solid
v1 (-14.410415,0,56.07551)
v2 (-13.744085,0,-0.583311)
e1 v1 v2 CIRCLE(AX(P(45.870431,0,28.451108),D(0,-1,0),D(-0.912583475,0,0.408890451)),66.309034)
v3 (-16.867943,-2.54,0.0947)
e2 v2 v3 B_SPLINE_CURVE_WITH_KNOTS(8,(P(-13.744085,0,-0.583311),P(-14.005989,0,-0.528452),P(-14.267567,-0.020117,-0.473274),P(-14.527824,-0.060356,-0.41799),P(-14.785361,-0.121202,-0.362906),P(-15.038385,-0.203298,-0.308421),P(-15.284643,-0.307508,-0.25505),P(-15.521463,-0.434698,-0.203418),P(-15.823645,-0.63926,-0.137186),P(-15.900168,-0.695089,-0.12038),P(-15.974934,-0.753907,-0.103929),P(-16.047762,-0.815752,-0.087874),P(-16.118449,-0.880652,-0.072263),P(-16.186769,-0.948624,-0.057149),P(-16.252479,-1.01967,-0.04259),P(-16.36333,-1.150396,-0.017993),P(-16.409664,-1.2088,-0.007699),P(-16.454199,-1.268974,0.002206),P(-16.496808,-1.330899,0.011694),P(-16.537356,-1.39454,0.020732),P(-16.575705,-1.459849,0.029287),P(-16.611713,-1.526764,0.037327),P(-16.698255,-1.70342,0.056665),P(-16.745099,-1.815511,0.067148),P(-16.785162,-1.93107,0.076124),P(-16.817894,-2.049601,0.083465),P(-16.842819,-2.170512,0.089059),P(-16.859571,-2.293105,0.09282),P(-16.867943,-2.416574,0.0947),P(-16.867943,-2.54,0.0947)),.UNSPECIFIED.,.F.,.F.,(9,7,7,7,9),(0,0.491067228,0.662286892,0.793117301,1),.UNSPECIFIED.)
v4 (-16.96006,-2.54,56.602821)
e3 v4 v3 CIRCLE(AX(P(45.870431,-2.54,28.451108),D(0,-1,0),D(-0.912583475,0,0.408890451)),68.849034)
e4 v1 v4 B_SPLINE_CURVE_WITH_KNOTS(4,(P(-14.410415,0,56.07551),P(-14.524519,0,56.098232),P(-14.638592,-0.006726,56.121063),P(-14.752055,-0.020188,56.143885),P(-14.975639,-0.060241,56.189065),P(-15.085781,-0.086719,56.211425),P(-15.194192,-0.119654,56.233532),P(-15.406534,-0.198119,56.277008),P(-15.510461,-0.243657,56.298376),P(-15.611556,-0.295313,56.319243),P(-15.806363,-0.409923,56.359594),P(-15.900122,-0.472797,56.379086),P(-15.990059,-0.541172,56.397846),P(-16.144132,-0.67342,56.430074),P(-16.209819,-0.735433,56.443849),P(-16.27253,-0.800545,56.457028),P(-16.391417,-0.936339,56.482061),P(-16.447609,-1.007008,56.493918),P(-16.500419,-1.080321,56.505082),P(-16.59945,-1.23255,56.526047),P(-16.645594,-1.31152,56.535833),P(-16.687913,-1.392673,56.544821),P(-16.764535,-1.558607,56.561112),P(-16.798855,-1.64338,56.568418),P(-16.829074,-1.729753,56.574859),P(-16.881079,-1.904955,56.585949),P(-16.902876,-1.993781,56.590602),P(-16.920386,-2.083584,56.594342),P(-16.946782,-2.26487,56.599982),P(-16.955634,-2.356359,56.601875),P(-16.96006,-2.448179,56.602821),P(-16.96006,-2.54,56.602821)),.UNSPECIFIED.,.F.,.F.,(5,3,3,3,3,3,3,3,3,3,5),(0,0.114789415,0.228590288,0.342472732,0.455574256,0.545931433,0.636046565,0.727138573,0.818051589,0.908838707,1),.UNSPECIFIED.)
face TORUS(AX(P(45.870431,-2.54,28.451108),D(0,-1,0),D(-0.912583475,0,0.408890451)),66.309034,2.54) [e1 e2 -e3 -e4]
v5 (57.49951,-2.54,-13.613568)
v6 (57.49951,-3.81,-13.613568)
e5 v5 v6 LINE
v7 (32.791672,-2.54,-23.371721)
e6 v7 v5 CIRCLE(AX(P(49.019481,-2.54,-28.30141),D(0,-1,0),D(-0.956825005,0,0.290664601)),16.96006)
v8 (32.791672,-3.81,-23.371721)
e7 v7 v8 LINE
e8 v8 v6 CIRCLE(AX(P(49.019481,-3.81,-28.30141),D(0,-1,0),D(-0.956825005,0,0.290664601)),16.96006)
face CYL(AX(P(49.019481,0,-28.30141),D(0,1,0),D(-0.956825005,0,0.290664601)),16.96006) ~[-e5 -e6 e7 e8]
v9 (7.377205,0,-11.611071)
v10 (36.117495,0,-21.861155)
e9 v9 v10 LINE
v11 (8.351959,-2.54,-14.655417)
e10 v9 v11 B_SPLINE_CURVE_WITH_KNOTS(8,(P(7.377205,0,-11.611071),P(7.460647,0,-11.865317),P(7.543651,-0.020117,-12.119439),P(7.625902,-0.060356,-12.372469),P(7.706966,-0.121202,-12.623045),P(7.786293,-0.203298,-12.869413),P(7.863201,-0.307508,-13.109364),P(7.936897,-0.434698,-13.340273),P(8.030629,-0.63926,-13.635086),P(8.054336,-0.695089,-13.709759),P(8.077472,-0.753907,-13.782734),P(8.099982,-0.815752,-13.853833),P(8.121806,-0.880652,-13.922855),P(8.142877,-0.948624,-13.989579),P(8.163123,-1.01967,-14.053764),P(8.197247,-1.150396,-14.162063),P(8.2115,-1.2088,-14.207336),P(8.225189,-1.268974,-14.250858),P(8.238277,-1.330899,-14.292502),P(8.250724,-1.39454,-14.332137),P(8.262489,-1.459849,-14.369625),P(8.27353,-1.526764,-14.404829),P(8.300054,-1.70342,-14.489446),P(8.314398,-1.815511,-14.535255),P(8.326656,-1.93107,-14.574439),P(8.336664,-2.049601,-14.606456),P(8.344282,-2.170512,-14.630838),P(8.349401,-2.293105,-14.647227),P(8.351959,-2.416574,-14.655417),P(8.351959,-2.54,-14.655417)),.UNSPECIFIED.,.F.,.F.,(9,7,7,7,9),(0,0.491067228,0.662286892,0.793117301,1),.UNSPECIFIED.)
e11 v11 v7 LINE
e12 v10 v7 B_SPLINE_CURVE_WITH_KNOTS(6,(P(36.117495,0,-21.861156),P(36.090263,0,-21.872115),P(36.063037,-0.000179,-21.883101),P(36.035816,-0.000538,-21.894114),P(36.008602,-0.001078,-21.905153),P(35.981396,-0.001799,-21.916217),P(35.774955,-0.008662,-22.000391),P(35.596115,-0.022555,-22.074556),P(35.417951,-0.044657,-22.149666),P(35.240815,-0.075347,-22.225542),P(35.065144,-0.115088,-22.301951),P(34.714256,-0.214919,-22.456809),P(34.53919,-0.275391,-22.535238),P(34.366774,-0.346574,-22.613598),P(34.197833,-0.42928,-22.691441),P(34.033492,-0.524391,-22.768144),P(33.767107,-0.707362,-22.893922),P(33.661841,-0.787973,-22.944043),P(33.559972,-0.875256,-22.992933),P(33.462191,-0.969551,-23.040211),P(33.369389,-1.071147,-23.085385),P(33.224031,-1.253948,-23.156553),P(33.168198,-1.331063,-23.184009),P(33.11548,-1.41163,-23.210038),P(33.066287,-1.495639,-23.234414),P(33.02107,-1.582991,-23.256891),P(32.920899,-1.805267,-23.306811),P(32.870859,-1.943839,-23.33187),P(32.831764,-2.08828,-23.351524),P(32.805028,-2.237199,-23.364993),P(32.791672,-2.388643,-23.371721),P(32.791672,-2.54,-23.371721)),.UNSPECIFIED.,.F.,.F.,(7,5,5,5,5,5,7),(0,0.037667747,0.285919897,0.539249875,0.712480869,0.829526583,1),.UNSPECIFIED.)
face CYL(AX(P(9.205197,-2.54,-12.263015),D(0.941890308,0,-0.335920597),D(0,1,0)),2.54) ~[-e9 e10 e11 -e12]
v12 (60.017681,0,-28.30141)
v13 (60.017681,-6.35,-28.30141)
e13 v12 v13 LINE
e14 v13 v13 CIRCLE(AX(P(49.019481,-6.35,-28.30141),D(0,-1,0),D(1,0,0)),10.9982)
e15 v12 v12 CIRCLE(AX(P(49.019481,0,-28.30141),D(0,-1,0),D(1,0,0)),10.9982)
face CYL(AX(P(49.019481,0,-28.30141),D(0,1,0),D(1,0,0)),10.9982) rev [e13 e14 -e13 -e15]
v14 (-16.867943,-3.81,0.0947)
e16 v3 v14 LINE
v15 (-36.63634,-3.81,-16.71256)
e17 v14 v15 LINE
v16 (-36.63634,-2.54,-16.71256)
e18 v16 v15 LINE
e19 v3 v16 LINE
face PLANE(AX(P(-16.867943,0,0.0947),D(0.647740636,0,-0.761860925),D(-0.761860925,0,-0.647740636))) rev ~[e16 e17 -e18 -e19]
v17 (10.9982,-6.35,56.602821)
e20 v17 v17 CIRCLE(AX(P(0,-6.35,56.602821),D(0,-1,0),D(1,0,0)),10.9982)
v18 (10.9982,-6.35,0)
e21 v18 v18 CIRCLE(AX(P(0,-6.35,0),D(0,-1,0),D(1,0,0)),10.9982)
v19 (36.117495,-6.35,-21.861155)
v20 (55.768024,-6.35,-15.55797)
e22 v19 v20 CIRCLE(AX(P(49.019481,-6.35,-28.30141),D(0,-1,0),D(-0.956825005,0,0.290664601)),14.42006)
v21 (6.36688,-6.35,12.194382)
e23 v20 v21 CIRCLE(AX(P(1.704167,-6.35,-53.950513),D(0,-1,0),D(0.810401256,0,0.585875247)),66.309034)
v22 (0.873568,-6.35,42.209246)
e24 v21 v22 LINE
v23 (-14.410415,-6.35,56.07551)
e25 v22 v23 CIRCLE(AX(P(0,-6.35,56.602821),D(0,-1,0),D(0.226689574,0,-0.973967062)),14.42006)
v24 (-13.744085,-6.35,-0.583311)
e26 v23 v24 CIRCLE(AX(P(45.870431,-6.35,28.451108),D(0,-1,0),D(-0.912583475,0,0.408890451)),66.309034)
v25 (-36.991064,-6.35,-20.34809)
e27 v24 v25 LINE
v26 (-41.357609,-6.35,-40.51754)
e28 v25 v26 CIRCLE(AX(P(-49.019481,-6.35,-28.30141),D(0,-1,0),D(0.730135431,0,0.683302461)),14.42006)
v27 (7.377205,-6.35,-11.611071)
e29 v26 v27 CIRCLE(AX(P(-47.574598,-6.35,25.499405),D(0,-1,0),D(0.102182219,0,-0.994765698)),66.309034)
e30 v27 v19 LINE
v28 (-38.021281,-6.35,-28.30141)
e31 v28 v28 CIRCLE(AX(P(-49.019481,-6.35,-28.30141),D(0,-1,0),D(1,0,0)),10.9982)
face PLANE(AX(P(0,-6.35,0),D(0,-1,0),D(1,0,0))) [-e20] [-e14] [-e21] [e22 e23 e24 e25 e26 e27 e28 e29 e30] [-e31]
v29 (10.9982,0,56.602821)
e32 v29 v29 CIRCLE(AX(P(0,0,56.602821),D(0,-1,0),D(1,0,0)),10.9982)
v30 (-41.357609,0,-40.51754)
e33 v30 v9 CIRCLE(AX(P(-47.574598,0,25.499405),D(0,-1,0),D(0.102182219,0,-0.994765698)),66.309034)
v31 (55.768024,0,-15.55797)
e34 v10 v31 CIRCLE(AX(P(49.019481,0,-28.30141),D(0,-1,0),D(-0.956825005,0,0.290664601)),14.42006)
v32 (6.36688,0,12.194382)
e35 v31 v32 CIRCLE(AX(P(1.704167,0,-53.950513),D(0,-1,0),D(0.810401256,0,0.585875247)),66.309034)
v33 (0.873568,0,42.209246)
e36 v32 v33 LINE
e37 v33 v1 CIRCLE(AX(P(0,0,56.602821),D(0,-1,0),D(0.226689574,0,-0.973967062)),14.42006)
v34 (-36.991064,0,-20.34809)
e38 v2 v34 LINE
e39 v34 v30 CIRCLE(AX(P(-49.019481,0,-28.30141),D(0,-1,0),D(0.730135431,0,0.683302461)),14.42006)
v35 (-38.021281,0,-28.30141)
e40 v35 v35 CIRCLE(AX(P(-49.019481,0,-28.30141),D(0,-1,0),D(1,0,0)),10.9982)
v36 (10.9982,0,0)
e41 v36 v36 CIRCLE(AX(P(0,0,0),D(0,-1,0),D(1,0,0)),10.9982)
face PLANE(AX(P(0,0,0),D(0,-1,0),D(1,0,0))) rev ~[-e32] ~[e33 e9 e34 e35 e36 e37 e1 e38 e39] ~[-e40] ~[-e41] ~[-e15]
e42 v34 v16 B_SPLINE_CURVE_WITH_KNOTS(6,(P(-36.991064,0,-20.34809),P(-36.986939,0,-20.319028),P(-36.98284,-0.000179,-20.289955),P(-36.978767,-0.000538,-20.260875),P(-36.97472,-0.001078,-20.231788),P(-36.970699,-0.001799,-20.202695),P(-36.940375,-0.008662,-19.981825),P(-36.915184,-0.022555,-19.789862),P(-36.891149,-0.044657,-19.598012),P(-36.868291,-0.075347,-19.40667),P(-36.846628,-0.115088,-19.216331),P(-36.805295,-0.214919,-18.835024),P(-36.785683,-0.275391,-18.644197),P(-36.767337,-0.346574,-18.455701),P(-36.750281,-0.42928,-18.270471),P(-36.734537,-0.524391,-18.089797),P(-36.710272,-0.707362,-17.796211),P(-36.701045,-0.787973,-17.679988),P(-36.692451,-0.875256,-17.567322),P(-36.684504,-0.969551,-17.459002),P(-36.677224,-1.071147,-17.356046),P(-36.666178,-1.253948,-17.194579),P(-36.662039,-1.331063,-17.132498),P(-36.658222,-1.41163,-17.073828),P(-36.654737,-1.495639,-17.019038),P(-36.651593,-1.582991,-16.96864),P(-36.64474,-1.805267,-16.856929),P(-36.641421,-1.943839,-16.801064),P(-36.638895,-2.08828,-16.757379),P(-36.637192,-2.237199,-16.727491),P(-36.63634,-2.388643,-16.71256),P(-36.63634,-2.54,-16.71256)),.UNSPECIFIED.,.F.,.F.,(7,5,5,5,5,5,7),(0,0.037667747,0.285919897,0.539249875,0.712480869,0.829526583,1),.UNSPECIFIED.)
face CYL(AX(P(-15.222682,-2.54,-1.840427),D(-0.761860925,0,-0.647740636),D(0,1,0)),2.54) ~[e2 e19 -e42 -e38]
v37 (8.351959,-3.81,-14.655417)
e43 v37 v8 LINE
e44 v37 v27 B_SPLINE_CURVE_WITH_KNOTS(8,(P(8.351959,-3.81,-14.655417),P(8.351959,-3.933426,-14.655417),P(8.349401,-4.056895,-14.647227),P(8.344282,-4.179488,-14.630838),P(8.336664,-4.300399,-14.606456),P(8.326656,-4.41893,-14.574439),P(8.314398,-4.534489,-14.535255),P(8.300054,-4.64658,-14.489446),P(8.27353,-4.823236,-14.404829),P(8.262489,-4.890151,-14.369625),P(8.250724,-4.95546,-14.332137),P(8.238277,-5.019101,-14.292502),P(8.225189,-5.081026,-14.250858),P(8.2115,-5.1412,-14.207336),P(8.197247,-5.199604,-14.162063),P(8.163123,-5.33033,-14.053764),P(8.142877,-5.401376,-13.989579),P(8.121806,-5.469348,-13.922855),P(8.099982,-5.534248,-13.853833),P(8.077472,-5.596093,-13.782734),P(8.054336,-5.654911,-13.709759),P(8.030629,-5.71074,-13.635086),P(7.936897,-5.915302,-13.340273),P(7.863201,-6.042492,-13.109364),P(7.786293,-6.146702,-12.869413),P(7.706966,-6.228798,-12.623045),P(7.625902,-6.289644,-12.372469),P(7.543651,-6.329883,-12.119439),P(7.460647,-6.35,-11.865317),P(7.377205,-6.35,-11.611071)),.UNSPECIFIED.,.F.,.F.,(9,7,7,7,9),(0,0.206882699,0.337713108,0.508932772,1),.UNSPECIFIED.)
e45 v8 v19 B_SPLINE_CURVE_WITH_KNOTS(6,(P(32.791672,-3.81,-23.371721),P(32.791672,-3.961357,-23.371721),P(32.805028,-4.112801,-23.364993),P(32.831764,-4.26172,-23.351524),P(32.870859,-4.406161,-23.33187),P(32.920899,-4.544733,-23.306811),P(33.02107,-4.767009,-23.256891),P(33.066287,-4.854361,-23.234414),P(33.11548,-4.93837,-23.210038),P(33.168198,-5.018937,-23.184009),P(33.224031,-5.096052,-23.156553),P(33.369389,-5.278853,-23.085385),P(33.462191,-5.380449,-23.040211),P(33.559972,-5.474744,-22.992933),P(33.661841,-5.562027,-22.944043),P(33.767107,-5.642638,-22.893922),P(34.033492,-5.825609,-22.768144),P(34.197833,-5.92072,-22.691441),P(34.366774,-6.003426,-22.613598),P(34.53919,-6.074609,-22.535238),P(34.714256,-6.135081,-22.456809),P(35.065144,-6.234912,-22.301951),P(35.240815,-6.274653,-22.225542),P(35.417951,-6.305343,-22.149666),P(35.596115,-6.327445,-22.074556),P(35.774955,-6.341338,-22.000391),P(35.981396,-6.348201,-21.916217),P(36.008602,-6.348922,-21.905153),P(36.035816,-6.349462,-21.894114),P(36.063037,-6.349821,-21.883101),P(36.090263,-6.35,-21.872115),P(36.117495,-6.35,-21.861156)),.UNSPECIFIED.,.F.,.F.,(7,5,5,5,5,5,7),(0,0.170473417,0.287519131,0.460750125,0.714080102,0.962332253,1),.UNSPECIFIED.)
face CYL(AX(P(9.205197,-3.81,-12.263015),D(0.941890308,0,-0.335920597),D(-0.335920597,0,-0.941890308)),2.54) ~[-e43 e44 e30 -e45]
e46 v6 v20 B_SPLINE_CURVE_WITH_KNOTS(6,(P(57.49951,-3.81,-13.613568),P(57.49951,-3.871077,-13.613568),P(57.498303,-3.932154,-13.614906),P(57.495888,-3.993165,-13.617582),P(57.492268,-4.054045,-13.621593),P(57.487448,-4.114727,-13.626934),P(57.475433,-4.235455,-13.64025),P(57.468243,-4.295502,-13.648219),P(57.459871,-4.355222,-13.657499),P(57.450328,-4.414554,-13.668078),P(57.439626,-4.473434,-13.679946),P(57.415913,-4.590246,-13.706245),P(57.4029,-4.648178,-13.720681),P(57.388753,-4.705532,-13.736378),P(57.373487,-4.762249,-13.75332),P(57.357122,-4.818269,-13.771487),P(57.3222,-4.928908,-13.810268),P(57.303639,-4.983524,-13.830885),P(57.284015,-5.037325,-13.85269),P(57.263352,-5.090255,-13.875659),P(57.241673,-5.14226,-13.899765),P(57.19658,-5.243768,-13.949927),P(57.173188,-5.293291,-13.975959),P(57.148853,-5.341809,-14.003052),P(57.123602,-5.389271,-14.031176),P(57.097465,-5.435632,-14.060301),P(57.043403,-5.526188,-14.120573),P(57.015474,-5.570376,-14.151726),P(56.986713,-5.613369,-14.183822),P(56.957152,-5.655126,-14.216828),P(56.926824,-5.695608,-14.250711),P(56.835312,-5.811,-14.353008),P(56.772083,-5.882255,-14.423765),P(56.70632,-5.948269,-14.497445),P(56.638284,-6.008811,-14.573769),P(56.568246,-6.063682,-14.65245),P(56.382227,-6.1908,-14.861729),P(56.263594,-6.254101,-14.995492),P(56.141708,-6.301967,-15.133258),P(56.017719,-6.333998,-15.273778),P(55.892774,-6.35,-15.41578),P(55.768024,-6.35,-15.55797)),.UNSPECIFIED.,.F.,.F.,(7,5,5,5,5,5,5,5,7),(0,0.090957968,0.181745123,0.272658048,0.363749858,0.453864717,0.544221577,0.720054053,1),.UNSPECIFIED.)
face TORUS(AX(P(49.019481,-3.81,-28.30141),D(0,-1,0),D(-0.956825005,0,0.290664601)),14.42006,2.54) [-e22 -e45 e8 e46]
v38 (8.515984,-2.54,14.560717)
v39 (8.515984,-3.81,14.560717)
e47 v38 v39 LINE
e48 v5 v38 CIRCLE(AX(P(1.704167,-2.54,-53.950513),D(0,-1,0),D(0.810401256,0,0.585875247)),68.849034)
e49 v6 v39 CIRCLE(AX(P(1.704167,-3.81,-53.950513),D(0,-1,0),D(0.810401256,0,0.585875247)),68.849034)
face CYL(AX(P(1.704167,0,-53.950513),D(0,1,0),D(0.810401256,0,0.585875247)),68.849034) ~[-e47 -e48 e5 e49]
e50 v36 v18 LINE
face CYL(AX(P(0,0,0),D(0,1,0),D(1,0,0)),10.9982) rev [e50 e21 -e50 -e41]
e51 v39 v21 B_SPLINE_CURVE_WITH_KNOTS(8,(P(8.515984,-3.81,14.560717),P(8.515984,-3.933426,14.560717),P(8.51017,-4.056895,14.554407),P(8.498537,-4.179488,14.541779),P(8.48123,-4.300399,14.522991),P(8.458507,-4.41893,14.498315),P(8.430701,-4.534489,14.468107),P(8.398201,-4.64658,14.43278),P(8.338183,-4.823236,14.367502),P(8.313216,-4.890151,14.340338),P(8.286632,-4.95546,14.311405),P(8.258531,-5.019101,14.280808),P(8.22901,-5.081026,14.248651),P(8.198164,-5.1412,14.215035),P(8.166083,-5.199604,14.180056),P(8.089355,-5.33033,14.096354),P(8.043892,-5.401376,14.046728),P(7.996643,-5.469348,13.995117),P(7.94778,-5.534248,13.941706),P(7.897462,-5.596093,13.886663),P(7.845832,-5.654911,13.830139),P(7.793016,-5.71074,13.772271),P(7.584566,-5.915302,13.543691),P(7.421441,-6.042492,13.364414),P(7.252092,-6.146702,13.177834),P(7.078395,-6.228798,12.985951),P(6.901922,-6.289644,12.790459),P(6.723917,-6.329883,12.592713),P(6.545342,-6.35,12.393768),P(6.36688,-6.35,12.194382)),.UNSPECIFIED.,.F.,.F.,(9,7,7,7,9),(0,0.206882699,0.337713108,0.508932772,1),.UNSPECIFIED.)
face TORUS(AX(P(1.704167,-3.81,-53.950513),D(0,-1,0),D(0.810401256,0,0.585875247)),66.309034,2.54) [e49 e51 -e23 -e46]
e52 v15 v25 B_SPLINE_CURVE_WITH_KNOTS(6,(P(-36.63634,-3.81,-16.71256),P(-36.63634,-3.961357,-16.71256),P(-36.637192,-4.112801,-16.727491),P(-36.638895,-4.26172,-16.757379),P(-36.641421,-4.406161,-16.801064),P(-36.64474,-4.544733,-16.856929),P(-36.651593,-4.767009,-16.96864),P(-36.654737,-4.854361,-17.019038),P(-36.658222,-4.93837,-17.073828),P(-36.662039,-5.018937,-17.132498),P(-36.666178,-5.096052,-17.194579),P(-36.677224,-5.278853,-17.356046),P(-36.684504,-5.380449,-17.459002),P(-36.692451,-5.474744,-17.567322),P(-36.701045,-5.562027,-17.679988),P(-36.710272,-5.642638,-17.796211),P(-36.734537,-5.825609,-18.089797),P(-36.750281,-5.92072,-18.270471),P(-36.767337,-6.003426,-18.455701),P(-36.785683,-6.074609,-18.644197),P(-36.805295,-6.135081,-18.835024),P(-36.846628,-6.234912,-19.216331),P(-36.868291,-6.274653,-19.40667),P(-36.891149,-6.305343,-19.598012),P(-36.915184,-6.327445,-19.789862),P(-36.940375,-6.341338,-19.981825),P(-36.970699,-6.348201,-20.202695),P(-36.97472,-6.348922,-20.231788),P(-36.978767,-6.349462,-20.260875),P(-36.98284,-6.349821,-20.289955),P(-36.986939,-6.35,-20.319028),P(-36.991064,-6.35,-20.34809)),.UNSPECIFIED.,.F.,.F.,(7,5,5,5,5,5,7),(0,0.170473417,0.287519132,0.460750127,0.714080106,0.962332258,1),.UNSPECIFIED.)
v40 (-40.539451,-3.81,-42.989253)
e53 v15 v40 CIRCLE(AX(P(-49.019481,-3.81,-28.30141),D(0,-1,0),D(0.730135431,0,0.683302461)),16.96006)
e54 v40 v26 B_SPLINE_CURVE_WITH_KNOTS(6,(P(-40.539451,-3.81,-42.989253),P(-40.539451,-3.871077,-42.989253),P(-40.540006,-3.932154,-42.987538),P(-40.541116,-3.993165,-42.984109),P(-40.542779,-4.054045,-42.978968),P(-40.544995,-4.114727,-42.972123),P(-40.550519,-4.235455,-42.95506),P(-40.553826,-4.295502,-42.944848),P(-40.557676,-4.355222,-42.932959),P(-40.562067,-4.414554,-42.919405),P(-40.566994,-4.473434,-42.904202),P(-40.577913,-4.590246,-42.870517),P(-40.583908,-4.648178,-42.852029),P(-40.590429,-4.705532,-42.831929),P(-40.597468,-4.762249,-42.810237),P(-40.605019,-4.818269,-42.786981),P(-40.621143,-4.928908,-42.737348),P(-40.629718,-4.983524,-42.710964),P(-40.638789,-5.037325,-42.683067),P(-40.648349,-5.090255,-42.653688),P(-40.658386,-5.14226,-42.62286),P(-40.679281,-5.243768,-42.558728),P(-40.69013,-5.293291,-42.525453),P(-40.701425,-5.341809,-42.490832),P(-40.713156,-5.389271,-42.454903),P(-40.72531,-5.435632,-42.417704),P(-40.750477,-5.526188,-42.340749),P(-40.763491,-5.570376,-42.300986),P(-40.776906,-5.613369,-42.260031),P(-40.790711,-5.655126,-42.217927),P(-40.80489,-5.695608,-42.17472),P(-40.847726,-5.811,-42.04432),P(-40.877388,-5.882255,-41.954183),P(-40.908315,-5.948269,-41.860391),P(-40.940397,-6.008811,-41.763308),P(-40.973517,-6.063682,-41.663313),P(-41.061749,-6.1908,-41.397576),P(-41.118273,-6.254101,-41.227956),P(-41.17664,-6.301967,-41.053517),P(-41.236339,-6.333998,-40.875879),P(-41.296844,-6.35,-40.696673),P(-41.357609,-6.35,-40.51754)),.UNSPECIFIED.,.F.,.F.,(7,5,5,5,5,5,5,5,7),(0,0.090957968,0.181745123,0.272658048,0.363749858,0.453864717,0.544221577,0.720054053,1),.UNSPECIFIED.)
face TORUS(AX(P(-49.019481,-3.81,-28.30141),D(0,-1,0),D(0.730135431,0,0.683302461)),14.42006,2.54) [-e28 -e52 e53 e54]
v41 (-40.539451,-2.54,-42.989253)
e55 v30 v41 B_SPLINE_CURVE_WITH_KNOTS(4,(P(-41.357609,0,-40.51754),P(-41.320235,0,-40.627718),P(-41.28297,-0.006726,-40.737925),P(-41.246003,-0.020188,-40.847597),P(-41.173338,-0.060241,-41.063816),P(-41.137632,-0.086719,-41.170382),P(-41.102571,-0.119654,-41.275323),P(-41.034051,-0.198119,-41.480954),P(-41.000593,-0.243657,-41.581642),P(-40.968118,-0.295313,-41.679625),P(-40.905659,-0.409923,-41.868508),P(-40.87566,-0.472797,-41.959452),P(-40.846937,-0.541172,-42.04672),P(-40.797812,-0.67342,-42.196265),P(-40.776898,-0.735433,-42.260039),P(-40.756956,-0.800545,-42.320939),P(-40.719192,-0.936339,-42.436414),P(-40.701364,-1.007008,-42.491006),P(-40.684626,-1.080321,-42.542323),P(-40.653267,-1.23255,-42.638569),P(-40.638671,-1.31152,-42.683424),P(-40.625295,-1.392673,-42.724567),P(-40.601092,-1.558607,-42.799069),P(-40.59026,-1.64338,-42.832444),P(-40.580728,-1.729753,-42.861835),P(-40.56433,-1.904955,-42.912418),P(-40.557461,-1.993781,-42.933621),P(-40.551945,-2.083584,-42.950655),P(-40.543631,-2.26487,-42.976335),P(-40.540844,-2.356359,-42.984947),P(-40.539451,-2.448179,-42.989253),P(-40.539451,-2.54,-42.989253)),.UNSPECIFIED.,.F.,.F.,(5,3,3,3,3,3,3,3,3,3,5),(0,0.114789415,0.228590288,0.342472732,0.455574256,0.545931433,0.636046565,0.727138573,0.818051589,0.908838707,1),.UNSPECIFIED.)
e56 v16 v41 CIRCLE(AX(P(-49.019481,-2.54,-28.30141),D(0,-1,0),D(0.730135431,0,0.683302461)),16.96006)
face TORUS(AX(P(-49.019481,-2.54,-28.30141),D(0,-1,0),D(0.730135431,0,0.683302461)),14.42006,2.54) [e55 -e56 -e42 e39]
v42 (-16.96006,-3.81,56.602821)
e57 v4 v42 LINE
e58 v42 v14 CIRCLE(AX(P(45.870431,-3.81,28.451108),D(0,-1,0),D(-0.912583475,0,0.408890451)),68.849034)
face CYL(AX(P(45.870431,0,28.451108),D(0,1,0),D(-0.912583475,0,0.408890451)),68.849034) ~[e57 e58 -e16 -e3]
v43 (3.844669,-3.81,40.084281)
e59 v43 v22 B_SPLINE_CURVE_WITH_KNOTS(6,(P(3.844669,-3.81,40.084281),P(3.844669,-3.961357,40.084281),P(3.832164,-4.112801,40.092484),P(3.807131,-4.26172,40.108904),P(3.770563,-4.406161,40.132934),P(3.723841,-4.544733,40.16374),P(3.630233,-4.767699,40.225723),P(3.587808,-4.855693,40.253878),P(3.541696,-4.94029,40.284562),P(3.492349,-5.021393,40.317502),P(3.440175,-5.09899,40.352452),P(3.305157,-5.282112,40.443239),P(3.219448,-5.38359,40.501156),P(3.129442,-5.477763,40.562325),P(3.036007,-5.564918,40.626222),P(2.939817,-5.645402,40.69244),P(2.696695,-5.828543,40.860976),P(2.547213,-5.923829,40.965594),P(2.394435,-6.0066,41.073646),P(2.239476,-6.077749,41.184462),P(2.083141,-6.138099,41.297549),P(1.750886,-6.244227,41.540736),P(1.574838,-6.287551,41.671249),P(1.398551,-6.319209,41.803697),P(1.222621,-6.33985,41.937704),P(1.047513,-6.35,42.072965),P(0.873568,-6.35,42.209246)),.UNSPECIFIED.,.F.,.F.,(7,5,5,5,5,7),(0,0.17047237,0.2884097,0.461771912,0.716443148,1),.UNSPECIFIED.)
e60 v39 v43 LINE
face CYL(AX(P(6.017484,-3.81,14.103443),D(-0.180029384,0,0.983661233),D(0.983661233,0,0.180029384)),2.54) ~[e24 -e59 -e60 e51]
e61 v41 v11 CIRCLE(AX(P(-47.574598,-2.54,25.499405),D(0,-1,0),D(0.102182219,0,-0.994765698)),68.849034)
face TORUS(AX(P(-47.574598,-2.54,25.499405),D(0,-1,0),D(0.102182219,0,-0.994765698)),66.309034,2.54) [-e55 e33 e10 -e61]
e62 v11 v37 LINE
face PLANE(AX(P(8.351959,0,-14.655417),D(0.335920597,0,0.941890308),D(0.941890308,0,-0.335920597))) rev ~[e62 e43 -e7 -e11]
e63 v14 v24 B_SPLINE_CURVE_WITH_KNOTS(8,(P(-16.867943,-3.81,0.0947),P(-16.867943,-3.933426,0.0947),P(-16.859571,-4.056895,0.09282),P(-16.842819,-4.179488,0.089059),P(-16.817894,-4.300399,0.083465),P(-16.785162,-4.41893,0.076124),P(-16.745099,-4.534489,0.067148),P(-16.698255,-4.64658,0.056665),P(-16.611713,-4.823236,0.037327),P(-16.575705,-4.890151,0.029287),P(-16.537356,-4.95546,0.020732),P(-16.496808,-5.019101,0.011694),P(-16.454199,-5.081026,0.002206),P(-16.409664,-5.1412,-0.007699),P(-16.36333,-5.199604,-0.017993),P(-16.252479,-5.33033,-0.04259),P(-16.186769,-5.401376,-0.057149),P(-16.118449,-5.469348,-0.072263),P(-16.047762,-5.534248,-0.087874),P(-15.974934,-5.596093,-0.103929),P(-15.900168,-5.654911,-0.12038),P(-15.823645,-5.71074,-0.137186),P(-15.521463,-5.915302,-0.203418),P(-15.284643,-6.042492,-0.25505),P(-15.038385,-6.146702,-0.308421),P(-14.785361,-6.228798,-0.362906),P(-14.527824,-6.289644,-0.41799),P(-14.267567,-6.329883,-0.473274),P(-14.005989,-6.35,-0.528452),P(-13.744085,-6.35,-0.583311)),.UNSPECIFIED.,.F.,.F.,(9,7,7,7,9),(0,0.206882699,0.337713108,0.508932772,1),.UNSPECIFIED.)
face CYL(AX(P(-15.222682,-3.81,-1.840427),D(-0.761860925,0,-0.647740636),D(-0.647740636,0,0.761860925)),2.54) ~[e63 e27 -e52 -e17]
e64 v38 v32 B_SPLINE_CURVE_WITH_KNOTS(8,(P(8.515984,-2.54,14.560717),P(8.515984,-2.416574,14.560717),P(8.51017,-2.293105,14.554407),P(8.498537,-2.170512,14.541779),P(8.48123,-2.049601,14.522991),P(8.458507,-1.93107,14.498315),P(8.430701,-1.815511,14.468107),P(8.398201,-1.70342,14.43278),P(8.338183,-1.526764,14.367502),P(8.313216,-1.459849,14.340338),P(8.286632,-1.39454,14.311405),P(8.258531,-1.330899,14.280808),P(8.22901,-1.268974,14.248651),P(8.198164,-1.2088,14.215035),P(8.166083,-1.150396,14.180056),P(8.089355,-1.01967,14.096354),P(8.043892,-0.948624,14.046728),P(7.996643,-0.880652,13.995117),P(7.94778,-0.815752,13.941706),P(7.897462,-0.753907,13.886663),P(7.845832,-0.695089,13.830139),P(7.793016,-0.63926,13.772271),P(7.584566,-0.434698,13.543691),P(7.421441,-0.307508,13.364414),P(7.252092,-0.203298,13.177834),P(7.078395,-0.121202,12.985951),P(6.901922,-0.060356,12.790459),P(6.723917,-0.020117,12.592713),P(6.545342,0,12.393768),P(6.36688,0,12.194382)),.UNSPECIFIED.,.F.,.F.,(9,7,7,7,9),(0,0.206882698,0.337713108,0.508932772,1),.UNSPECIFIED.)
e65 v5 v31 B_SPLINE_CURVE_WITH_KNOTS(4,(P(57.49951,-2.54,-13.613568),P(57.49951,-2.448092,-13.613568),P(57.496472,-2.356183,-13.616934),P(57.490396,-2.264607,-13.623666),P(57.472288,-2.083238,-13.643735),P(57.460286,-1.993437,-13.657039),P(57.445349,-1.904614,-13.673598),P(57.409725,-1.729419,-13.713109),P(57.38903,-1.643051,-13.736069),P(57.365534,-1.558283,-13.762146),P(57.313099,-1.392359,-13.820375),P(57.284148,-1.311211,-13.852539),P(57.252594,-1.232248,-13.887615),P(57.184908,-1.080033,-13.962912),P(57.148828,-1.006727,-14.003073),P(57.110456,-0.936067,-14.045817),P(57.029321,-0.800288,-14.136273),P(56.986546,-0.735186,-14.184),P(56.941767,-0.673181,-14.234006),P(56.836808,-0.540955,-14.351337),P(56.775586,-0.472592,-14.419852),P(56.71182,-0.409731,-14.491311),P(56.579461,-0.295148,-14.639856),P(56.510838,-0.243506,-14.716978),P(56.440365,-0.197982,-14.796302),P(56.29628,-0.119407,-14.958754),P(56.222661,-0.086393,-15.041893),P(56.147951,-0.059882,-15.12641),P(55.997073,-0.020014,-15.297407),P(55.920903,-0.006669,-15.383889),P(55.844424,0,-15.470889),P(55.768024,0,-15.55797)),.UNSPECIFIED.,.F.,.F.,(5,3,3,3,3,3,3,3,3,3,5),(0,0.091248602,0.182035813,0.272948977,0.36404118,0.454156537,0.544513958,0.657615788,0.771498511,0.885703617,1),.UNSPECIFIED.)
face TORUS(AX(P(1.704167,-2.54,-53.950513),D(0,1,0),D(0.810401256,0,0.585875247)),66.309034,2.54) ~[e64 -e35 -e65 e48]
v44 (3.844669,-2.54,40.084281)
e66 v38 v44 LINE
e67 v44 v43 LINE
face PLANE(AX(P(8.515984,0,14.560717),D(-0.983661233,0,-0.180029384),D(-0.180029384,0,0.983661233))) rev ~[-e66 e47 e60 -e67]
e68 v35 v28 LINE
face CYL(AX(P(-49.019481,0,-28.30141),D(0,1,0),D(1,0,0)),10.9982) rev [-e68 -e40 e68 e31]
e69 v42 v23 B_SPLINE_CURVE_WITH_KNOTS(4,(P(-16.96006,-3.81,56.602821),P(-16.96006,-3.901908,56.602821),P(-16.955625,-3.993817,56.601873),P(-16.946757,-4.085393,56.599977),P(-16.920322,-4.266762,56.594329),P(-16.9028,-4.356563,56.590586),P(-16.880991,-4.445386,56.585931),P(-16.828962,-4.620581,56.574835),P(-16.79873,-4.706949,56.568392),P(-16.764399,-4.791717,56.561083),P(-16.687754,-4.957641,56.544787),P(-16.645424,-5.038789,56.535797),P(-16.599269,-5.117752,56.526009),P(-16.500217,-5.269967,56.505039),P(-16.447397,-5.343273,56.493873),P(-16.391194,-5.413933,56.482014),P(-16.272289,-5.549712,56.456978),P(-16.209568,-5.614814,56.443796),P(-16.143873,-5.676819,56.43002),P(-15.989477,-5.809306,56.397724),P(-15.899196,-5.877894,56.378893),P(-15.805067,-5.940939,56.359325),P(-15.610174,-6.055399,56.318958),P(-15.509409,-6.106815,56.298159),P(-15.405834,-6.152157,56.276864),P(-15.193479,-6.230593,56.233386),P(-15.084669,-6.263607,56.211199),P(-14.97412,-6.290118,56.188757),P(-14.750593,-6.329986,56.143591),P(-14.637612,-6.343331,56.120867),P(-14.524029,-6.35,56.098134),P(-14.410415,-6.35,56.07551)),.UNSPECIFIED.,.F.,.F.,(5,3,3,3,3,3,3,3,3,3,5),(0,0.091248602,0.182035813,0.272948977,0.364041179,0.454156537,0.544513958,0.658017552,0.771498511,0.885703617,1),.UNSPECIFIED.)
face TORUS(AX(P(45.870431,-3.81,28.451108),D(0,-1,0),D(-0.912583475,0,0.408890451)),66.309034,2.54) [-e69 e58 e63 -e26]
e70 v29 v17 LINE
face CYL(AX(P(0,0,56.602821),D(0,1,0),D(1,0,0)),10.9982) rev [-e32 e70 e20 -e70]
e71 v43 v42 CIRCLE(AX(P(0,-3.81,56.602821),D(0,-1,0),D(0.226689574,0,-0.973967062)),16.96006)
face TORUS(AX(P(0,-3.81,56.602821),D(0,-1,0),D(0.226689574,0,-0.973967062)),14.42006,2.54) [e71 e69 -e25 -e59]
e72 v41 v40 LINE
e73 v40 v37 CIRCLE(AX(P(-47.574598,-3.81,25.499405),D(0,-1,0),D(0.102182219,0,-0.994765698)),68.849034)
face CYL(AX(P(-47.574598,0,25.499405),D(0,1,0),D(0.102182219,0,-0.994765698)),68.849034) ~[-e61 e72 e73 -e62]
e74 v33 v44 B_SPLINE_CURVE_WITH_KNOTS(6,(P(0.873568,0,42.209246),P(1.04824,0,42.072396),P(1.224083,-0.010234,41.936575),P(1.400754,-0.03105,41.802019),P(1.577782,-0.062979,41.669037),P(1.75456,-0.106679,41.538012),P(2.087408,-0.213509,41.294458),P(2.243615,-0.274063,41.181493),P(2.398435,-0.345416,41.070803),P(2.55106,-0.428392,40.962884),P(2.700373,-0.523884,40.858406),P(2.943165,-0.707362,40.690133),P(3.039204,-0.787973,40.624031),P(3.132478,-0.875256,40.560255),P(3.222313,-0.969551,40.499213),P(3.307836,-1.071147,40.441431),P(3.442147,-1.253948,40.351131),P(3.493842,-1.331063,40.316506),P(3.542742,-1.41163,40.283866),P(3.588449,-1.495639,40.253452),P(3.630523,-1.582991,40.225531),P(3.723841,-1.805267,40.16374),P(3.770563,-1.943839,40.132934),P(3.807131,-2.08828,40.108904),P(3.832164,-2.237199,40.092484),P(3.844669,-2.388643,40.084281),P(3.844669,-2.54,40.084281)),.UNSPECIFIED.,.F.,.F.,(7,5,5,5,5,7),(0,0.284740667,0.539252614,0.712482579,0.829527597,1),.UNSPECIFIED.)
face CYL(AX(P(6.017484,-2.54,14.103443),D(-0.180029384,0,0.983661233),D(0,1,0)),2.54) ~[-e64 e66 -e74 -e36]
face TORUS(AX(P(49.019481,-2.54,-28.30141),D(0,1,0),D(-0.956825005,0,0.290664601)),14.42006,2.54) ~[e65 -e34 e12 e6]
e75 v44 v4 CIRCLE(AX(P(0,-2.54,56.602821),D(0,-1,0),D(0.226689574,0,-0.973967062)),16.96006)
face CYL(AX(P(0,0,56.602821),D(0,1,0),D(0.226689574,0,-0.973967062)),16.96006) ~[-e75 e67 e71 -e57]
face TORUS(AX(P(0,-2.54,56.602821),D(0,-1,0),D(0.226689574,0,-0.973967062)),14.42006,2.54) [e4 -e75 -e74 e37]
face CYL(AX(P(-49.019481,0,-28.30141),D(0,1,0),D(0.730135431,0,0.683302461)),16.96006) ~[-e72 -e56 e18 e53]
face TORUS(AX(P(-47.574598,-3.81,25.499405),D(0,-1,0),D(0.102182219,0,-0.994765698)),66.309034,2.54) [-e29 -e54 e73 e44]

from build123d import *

# Parameters (mm, degrees)
F0_R     = 10.9982
F1_DEPTH = 6.35
F2_R     = 2.54
F3_R     = 2.54


with BuildPart() as f1:
    # F0 (on Front) → F1 (new body)
    with BuildSketch(Plane.XZ):
        with BuildLine():
            Line((8.5159837234, 14.5607172511), (3.8446686704, 40.084281416))
            ThreePointArc((3.8446686704, 40.084281416), (10.5460373968, 69.8853172917), (-16.9600595237, 56.6028207541))
            ThreePointArc((-16.9600595237, 56.6028207541), (-22.9785113541, 28.3388741339), (-16.8679428984, 0.0946996171))
            Line((-16.8679428984, 0.0946996171), (-36.6363403339, -16.7125599703))
            ThreePointArc((-36.6363403339, -16.7125599703), (-65.7954788246, -25.809522351), (-40.539450937, -42.9892527743))
            ThreePointArc((-40.539450937, -42.9892527743), (-13.0529292375, -34.0694116408), (8.3519591751, -14.6554168682))
            Line((8.3519591751, -14.6554168682), (32.7916716635, -23.3717214457))
            ThreePointArc((32.7916716635, -23.3717214457), (55.2494414278, -44.0757949408), (57.4995104607, -13.6135679798))
            ThreePointArc((57.4995104607, -13.6135679798), (36.0314405916, 5.7305375069), (8.5159837234, 14.5607172511))
        make_face()
        with Locations((-49.0194806989, -28.301410377)):
            Circle(F0_R, mode=Mode.SUBTRACT)
        with BuildLine():
            ThreePointArc((-16.8250545581, 0), (-16.8465166023, 0.0473417136), (-16.8679428984, 0.0946996171))
            Line((-16.8679428984, 0.0946996171), (-16.8245398748, 0.1316012369))
            ThreePointArc((-16.8245398748, 0.1316012369), (-16.8249258868, 0.0658011217), (-16.8250545581, 0))
        make_face(mode=Mode.SUBTRACT)
        with Locations((49.0194806989, -28.301410377)):
            Circle(F0_R, mode=Mode.SUBTRACT)
        with BuildLine():
            ThreePointArc((8.4125272791, -14.5709246674), (8.3822591745, -14.6131821997), (8.3519591751, -14.6554168682))
            Line((8.3519591751, -14.6554168682), (8.2982999231, -14.636279557))
            ThreePointArc((8.2982999231, -14.636279557), (8.3554775004, -14.6037137956), (8.4125272791, -14.5709246674))
        make_face(mode=Mode.SUBTRACT)
        Circle(F0_R, mode=Mode.SUBTRACT)
        with BuildLine():
            ThreePointArc((8.4125272791, 14.5709246674), (8.4642574278, 14.565840486), (8.5159837234, 14.5607172511))
            Line((8.5159837234, 14.5607172511), (8.5262399517, 14.5046783201))
            ThreePointArc((8.5262399517, 14.5046783201), (8.4694483864, 14.5379126739), (8.4125272791, 14.5709246674))
        make_face(mode=Mode.SUBTRACT)
        with Locations((0, 56.6028207541)):
            Circle(F0_R, mode=Mode.SUBTRACT)
        with BuildLine():
            Line((-16.8245398748, 0.1316012369), (-16.8679428984, 0.0946996171))
            ThreePointArc((-16.8679428984, 0.0946996171), (-16.8465166023, 0.0473417136), (-16.8250545581, 0))
            ThreePointArc((-16.8250545581, 0), (-16.8249258868, 0.0658011217), (-16.8245398748, 0.1316012369))
        make_face()
        with BuildLine():
            Line((8.2982999231, -14.636279557), (8.3519591751, -14.6554168682))
            ThreePointArc((8.3519591751, -14.6554168682), (8.3822591745, -14.6131821997), (8.4125272791, -14.5709246674))
            ThreePointArc((8.4125272791, -14.5709246674), (8.3554775004, -14.6037137956), (8.2982999231, -14.636279557))
        make_face()
        with BuildLine():
            Line((8.5262399517, 14.5046783201), (8.5159837234, 14.5607172511))
            ThreePointArc((8.5159837234, 14.5607172511), (8.4642574278, 14.565840486), (8.4125272791, 14.5709246674))
            ThreePointArc((8.4125272791, 14.5709246674), (8.4694483864, 14.5379126739), (8.5262399517, 14.5046783201))
        make_face()
    extrude(amount=F1_DEPTH)

    # F2
    f2_edges = [f1.edges().sort_by_distance(p)[0] for p in [
        (10.546037, -6.35, 69.885317),
        (6.180326, -6.35, 27.322499),
        (-22.978511, -6.35, 28.338874),
        (36.031441, -6.35, 5.730538),
        (55.249441, -6.35, -44.075795),
        (20.571815, -6.35, -19.013569),
        (-13.052929, -6.35, -34.069412),
        (-26.752142, -6.35, -8.30893),
        (-65.795479, -6.35, -25.809522),
    ]]
    fillet(f2_edges, radius=F2_R)

    # F3
    f3_edges = [f1.edges().sort_by_distance(p)[0] for p in [
        (10.546037, 0, 69.885317),
        (-22.978511, 0, 28.338874),
        (-26.752142, 0, -8.30893),
        (-65.795479, 0, -25.809522),
        (-13.052929, 0, -34.069412),
        (20.571815, 0, -19.013569),
        (55.249441, 0, -44.075795),
        (36.031441, 0, 5.730538),
        (6.180326, 0, 27.322499),
    ]]
    fillet(f3_edges, radius=F3_R)


solid = f1.part
